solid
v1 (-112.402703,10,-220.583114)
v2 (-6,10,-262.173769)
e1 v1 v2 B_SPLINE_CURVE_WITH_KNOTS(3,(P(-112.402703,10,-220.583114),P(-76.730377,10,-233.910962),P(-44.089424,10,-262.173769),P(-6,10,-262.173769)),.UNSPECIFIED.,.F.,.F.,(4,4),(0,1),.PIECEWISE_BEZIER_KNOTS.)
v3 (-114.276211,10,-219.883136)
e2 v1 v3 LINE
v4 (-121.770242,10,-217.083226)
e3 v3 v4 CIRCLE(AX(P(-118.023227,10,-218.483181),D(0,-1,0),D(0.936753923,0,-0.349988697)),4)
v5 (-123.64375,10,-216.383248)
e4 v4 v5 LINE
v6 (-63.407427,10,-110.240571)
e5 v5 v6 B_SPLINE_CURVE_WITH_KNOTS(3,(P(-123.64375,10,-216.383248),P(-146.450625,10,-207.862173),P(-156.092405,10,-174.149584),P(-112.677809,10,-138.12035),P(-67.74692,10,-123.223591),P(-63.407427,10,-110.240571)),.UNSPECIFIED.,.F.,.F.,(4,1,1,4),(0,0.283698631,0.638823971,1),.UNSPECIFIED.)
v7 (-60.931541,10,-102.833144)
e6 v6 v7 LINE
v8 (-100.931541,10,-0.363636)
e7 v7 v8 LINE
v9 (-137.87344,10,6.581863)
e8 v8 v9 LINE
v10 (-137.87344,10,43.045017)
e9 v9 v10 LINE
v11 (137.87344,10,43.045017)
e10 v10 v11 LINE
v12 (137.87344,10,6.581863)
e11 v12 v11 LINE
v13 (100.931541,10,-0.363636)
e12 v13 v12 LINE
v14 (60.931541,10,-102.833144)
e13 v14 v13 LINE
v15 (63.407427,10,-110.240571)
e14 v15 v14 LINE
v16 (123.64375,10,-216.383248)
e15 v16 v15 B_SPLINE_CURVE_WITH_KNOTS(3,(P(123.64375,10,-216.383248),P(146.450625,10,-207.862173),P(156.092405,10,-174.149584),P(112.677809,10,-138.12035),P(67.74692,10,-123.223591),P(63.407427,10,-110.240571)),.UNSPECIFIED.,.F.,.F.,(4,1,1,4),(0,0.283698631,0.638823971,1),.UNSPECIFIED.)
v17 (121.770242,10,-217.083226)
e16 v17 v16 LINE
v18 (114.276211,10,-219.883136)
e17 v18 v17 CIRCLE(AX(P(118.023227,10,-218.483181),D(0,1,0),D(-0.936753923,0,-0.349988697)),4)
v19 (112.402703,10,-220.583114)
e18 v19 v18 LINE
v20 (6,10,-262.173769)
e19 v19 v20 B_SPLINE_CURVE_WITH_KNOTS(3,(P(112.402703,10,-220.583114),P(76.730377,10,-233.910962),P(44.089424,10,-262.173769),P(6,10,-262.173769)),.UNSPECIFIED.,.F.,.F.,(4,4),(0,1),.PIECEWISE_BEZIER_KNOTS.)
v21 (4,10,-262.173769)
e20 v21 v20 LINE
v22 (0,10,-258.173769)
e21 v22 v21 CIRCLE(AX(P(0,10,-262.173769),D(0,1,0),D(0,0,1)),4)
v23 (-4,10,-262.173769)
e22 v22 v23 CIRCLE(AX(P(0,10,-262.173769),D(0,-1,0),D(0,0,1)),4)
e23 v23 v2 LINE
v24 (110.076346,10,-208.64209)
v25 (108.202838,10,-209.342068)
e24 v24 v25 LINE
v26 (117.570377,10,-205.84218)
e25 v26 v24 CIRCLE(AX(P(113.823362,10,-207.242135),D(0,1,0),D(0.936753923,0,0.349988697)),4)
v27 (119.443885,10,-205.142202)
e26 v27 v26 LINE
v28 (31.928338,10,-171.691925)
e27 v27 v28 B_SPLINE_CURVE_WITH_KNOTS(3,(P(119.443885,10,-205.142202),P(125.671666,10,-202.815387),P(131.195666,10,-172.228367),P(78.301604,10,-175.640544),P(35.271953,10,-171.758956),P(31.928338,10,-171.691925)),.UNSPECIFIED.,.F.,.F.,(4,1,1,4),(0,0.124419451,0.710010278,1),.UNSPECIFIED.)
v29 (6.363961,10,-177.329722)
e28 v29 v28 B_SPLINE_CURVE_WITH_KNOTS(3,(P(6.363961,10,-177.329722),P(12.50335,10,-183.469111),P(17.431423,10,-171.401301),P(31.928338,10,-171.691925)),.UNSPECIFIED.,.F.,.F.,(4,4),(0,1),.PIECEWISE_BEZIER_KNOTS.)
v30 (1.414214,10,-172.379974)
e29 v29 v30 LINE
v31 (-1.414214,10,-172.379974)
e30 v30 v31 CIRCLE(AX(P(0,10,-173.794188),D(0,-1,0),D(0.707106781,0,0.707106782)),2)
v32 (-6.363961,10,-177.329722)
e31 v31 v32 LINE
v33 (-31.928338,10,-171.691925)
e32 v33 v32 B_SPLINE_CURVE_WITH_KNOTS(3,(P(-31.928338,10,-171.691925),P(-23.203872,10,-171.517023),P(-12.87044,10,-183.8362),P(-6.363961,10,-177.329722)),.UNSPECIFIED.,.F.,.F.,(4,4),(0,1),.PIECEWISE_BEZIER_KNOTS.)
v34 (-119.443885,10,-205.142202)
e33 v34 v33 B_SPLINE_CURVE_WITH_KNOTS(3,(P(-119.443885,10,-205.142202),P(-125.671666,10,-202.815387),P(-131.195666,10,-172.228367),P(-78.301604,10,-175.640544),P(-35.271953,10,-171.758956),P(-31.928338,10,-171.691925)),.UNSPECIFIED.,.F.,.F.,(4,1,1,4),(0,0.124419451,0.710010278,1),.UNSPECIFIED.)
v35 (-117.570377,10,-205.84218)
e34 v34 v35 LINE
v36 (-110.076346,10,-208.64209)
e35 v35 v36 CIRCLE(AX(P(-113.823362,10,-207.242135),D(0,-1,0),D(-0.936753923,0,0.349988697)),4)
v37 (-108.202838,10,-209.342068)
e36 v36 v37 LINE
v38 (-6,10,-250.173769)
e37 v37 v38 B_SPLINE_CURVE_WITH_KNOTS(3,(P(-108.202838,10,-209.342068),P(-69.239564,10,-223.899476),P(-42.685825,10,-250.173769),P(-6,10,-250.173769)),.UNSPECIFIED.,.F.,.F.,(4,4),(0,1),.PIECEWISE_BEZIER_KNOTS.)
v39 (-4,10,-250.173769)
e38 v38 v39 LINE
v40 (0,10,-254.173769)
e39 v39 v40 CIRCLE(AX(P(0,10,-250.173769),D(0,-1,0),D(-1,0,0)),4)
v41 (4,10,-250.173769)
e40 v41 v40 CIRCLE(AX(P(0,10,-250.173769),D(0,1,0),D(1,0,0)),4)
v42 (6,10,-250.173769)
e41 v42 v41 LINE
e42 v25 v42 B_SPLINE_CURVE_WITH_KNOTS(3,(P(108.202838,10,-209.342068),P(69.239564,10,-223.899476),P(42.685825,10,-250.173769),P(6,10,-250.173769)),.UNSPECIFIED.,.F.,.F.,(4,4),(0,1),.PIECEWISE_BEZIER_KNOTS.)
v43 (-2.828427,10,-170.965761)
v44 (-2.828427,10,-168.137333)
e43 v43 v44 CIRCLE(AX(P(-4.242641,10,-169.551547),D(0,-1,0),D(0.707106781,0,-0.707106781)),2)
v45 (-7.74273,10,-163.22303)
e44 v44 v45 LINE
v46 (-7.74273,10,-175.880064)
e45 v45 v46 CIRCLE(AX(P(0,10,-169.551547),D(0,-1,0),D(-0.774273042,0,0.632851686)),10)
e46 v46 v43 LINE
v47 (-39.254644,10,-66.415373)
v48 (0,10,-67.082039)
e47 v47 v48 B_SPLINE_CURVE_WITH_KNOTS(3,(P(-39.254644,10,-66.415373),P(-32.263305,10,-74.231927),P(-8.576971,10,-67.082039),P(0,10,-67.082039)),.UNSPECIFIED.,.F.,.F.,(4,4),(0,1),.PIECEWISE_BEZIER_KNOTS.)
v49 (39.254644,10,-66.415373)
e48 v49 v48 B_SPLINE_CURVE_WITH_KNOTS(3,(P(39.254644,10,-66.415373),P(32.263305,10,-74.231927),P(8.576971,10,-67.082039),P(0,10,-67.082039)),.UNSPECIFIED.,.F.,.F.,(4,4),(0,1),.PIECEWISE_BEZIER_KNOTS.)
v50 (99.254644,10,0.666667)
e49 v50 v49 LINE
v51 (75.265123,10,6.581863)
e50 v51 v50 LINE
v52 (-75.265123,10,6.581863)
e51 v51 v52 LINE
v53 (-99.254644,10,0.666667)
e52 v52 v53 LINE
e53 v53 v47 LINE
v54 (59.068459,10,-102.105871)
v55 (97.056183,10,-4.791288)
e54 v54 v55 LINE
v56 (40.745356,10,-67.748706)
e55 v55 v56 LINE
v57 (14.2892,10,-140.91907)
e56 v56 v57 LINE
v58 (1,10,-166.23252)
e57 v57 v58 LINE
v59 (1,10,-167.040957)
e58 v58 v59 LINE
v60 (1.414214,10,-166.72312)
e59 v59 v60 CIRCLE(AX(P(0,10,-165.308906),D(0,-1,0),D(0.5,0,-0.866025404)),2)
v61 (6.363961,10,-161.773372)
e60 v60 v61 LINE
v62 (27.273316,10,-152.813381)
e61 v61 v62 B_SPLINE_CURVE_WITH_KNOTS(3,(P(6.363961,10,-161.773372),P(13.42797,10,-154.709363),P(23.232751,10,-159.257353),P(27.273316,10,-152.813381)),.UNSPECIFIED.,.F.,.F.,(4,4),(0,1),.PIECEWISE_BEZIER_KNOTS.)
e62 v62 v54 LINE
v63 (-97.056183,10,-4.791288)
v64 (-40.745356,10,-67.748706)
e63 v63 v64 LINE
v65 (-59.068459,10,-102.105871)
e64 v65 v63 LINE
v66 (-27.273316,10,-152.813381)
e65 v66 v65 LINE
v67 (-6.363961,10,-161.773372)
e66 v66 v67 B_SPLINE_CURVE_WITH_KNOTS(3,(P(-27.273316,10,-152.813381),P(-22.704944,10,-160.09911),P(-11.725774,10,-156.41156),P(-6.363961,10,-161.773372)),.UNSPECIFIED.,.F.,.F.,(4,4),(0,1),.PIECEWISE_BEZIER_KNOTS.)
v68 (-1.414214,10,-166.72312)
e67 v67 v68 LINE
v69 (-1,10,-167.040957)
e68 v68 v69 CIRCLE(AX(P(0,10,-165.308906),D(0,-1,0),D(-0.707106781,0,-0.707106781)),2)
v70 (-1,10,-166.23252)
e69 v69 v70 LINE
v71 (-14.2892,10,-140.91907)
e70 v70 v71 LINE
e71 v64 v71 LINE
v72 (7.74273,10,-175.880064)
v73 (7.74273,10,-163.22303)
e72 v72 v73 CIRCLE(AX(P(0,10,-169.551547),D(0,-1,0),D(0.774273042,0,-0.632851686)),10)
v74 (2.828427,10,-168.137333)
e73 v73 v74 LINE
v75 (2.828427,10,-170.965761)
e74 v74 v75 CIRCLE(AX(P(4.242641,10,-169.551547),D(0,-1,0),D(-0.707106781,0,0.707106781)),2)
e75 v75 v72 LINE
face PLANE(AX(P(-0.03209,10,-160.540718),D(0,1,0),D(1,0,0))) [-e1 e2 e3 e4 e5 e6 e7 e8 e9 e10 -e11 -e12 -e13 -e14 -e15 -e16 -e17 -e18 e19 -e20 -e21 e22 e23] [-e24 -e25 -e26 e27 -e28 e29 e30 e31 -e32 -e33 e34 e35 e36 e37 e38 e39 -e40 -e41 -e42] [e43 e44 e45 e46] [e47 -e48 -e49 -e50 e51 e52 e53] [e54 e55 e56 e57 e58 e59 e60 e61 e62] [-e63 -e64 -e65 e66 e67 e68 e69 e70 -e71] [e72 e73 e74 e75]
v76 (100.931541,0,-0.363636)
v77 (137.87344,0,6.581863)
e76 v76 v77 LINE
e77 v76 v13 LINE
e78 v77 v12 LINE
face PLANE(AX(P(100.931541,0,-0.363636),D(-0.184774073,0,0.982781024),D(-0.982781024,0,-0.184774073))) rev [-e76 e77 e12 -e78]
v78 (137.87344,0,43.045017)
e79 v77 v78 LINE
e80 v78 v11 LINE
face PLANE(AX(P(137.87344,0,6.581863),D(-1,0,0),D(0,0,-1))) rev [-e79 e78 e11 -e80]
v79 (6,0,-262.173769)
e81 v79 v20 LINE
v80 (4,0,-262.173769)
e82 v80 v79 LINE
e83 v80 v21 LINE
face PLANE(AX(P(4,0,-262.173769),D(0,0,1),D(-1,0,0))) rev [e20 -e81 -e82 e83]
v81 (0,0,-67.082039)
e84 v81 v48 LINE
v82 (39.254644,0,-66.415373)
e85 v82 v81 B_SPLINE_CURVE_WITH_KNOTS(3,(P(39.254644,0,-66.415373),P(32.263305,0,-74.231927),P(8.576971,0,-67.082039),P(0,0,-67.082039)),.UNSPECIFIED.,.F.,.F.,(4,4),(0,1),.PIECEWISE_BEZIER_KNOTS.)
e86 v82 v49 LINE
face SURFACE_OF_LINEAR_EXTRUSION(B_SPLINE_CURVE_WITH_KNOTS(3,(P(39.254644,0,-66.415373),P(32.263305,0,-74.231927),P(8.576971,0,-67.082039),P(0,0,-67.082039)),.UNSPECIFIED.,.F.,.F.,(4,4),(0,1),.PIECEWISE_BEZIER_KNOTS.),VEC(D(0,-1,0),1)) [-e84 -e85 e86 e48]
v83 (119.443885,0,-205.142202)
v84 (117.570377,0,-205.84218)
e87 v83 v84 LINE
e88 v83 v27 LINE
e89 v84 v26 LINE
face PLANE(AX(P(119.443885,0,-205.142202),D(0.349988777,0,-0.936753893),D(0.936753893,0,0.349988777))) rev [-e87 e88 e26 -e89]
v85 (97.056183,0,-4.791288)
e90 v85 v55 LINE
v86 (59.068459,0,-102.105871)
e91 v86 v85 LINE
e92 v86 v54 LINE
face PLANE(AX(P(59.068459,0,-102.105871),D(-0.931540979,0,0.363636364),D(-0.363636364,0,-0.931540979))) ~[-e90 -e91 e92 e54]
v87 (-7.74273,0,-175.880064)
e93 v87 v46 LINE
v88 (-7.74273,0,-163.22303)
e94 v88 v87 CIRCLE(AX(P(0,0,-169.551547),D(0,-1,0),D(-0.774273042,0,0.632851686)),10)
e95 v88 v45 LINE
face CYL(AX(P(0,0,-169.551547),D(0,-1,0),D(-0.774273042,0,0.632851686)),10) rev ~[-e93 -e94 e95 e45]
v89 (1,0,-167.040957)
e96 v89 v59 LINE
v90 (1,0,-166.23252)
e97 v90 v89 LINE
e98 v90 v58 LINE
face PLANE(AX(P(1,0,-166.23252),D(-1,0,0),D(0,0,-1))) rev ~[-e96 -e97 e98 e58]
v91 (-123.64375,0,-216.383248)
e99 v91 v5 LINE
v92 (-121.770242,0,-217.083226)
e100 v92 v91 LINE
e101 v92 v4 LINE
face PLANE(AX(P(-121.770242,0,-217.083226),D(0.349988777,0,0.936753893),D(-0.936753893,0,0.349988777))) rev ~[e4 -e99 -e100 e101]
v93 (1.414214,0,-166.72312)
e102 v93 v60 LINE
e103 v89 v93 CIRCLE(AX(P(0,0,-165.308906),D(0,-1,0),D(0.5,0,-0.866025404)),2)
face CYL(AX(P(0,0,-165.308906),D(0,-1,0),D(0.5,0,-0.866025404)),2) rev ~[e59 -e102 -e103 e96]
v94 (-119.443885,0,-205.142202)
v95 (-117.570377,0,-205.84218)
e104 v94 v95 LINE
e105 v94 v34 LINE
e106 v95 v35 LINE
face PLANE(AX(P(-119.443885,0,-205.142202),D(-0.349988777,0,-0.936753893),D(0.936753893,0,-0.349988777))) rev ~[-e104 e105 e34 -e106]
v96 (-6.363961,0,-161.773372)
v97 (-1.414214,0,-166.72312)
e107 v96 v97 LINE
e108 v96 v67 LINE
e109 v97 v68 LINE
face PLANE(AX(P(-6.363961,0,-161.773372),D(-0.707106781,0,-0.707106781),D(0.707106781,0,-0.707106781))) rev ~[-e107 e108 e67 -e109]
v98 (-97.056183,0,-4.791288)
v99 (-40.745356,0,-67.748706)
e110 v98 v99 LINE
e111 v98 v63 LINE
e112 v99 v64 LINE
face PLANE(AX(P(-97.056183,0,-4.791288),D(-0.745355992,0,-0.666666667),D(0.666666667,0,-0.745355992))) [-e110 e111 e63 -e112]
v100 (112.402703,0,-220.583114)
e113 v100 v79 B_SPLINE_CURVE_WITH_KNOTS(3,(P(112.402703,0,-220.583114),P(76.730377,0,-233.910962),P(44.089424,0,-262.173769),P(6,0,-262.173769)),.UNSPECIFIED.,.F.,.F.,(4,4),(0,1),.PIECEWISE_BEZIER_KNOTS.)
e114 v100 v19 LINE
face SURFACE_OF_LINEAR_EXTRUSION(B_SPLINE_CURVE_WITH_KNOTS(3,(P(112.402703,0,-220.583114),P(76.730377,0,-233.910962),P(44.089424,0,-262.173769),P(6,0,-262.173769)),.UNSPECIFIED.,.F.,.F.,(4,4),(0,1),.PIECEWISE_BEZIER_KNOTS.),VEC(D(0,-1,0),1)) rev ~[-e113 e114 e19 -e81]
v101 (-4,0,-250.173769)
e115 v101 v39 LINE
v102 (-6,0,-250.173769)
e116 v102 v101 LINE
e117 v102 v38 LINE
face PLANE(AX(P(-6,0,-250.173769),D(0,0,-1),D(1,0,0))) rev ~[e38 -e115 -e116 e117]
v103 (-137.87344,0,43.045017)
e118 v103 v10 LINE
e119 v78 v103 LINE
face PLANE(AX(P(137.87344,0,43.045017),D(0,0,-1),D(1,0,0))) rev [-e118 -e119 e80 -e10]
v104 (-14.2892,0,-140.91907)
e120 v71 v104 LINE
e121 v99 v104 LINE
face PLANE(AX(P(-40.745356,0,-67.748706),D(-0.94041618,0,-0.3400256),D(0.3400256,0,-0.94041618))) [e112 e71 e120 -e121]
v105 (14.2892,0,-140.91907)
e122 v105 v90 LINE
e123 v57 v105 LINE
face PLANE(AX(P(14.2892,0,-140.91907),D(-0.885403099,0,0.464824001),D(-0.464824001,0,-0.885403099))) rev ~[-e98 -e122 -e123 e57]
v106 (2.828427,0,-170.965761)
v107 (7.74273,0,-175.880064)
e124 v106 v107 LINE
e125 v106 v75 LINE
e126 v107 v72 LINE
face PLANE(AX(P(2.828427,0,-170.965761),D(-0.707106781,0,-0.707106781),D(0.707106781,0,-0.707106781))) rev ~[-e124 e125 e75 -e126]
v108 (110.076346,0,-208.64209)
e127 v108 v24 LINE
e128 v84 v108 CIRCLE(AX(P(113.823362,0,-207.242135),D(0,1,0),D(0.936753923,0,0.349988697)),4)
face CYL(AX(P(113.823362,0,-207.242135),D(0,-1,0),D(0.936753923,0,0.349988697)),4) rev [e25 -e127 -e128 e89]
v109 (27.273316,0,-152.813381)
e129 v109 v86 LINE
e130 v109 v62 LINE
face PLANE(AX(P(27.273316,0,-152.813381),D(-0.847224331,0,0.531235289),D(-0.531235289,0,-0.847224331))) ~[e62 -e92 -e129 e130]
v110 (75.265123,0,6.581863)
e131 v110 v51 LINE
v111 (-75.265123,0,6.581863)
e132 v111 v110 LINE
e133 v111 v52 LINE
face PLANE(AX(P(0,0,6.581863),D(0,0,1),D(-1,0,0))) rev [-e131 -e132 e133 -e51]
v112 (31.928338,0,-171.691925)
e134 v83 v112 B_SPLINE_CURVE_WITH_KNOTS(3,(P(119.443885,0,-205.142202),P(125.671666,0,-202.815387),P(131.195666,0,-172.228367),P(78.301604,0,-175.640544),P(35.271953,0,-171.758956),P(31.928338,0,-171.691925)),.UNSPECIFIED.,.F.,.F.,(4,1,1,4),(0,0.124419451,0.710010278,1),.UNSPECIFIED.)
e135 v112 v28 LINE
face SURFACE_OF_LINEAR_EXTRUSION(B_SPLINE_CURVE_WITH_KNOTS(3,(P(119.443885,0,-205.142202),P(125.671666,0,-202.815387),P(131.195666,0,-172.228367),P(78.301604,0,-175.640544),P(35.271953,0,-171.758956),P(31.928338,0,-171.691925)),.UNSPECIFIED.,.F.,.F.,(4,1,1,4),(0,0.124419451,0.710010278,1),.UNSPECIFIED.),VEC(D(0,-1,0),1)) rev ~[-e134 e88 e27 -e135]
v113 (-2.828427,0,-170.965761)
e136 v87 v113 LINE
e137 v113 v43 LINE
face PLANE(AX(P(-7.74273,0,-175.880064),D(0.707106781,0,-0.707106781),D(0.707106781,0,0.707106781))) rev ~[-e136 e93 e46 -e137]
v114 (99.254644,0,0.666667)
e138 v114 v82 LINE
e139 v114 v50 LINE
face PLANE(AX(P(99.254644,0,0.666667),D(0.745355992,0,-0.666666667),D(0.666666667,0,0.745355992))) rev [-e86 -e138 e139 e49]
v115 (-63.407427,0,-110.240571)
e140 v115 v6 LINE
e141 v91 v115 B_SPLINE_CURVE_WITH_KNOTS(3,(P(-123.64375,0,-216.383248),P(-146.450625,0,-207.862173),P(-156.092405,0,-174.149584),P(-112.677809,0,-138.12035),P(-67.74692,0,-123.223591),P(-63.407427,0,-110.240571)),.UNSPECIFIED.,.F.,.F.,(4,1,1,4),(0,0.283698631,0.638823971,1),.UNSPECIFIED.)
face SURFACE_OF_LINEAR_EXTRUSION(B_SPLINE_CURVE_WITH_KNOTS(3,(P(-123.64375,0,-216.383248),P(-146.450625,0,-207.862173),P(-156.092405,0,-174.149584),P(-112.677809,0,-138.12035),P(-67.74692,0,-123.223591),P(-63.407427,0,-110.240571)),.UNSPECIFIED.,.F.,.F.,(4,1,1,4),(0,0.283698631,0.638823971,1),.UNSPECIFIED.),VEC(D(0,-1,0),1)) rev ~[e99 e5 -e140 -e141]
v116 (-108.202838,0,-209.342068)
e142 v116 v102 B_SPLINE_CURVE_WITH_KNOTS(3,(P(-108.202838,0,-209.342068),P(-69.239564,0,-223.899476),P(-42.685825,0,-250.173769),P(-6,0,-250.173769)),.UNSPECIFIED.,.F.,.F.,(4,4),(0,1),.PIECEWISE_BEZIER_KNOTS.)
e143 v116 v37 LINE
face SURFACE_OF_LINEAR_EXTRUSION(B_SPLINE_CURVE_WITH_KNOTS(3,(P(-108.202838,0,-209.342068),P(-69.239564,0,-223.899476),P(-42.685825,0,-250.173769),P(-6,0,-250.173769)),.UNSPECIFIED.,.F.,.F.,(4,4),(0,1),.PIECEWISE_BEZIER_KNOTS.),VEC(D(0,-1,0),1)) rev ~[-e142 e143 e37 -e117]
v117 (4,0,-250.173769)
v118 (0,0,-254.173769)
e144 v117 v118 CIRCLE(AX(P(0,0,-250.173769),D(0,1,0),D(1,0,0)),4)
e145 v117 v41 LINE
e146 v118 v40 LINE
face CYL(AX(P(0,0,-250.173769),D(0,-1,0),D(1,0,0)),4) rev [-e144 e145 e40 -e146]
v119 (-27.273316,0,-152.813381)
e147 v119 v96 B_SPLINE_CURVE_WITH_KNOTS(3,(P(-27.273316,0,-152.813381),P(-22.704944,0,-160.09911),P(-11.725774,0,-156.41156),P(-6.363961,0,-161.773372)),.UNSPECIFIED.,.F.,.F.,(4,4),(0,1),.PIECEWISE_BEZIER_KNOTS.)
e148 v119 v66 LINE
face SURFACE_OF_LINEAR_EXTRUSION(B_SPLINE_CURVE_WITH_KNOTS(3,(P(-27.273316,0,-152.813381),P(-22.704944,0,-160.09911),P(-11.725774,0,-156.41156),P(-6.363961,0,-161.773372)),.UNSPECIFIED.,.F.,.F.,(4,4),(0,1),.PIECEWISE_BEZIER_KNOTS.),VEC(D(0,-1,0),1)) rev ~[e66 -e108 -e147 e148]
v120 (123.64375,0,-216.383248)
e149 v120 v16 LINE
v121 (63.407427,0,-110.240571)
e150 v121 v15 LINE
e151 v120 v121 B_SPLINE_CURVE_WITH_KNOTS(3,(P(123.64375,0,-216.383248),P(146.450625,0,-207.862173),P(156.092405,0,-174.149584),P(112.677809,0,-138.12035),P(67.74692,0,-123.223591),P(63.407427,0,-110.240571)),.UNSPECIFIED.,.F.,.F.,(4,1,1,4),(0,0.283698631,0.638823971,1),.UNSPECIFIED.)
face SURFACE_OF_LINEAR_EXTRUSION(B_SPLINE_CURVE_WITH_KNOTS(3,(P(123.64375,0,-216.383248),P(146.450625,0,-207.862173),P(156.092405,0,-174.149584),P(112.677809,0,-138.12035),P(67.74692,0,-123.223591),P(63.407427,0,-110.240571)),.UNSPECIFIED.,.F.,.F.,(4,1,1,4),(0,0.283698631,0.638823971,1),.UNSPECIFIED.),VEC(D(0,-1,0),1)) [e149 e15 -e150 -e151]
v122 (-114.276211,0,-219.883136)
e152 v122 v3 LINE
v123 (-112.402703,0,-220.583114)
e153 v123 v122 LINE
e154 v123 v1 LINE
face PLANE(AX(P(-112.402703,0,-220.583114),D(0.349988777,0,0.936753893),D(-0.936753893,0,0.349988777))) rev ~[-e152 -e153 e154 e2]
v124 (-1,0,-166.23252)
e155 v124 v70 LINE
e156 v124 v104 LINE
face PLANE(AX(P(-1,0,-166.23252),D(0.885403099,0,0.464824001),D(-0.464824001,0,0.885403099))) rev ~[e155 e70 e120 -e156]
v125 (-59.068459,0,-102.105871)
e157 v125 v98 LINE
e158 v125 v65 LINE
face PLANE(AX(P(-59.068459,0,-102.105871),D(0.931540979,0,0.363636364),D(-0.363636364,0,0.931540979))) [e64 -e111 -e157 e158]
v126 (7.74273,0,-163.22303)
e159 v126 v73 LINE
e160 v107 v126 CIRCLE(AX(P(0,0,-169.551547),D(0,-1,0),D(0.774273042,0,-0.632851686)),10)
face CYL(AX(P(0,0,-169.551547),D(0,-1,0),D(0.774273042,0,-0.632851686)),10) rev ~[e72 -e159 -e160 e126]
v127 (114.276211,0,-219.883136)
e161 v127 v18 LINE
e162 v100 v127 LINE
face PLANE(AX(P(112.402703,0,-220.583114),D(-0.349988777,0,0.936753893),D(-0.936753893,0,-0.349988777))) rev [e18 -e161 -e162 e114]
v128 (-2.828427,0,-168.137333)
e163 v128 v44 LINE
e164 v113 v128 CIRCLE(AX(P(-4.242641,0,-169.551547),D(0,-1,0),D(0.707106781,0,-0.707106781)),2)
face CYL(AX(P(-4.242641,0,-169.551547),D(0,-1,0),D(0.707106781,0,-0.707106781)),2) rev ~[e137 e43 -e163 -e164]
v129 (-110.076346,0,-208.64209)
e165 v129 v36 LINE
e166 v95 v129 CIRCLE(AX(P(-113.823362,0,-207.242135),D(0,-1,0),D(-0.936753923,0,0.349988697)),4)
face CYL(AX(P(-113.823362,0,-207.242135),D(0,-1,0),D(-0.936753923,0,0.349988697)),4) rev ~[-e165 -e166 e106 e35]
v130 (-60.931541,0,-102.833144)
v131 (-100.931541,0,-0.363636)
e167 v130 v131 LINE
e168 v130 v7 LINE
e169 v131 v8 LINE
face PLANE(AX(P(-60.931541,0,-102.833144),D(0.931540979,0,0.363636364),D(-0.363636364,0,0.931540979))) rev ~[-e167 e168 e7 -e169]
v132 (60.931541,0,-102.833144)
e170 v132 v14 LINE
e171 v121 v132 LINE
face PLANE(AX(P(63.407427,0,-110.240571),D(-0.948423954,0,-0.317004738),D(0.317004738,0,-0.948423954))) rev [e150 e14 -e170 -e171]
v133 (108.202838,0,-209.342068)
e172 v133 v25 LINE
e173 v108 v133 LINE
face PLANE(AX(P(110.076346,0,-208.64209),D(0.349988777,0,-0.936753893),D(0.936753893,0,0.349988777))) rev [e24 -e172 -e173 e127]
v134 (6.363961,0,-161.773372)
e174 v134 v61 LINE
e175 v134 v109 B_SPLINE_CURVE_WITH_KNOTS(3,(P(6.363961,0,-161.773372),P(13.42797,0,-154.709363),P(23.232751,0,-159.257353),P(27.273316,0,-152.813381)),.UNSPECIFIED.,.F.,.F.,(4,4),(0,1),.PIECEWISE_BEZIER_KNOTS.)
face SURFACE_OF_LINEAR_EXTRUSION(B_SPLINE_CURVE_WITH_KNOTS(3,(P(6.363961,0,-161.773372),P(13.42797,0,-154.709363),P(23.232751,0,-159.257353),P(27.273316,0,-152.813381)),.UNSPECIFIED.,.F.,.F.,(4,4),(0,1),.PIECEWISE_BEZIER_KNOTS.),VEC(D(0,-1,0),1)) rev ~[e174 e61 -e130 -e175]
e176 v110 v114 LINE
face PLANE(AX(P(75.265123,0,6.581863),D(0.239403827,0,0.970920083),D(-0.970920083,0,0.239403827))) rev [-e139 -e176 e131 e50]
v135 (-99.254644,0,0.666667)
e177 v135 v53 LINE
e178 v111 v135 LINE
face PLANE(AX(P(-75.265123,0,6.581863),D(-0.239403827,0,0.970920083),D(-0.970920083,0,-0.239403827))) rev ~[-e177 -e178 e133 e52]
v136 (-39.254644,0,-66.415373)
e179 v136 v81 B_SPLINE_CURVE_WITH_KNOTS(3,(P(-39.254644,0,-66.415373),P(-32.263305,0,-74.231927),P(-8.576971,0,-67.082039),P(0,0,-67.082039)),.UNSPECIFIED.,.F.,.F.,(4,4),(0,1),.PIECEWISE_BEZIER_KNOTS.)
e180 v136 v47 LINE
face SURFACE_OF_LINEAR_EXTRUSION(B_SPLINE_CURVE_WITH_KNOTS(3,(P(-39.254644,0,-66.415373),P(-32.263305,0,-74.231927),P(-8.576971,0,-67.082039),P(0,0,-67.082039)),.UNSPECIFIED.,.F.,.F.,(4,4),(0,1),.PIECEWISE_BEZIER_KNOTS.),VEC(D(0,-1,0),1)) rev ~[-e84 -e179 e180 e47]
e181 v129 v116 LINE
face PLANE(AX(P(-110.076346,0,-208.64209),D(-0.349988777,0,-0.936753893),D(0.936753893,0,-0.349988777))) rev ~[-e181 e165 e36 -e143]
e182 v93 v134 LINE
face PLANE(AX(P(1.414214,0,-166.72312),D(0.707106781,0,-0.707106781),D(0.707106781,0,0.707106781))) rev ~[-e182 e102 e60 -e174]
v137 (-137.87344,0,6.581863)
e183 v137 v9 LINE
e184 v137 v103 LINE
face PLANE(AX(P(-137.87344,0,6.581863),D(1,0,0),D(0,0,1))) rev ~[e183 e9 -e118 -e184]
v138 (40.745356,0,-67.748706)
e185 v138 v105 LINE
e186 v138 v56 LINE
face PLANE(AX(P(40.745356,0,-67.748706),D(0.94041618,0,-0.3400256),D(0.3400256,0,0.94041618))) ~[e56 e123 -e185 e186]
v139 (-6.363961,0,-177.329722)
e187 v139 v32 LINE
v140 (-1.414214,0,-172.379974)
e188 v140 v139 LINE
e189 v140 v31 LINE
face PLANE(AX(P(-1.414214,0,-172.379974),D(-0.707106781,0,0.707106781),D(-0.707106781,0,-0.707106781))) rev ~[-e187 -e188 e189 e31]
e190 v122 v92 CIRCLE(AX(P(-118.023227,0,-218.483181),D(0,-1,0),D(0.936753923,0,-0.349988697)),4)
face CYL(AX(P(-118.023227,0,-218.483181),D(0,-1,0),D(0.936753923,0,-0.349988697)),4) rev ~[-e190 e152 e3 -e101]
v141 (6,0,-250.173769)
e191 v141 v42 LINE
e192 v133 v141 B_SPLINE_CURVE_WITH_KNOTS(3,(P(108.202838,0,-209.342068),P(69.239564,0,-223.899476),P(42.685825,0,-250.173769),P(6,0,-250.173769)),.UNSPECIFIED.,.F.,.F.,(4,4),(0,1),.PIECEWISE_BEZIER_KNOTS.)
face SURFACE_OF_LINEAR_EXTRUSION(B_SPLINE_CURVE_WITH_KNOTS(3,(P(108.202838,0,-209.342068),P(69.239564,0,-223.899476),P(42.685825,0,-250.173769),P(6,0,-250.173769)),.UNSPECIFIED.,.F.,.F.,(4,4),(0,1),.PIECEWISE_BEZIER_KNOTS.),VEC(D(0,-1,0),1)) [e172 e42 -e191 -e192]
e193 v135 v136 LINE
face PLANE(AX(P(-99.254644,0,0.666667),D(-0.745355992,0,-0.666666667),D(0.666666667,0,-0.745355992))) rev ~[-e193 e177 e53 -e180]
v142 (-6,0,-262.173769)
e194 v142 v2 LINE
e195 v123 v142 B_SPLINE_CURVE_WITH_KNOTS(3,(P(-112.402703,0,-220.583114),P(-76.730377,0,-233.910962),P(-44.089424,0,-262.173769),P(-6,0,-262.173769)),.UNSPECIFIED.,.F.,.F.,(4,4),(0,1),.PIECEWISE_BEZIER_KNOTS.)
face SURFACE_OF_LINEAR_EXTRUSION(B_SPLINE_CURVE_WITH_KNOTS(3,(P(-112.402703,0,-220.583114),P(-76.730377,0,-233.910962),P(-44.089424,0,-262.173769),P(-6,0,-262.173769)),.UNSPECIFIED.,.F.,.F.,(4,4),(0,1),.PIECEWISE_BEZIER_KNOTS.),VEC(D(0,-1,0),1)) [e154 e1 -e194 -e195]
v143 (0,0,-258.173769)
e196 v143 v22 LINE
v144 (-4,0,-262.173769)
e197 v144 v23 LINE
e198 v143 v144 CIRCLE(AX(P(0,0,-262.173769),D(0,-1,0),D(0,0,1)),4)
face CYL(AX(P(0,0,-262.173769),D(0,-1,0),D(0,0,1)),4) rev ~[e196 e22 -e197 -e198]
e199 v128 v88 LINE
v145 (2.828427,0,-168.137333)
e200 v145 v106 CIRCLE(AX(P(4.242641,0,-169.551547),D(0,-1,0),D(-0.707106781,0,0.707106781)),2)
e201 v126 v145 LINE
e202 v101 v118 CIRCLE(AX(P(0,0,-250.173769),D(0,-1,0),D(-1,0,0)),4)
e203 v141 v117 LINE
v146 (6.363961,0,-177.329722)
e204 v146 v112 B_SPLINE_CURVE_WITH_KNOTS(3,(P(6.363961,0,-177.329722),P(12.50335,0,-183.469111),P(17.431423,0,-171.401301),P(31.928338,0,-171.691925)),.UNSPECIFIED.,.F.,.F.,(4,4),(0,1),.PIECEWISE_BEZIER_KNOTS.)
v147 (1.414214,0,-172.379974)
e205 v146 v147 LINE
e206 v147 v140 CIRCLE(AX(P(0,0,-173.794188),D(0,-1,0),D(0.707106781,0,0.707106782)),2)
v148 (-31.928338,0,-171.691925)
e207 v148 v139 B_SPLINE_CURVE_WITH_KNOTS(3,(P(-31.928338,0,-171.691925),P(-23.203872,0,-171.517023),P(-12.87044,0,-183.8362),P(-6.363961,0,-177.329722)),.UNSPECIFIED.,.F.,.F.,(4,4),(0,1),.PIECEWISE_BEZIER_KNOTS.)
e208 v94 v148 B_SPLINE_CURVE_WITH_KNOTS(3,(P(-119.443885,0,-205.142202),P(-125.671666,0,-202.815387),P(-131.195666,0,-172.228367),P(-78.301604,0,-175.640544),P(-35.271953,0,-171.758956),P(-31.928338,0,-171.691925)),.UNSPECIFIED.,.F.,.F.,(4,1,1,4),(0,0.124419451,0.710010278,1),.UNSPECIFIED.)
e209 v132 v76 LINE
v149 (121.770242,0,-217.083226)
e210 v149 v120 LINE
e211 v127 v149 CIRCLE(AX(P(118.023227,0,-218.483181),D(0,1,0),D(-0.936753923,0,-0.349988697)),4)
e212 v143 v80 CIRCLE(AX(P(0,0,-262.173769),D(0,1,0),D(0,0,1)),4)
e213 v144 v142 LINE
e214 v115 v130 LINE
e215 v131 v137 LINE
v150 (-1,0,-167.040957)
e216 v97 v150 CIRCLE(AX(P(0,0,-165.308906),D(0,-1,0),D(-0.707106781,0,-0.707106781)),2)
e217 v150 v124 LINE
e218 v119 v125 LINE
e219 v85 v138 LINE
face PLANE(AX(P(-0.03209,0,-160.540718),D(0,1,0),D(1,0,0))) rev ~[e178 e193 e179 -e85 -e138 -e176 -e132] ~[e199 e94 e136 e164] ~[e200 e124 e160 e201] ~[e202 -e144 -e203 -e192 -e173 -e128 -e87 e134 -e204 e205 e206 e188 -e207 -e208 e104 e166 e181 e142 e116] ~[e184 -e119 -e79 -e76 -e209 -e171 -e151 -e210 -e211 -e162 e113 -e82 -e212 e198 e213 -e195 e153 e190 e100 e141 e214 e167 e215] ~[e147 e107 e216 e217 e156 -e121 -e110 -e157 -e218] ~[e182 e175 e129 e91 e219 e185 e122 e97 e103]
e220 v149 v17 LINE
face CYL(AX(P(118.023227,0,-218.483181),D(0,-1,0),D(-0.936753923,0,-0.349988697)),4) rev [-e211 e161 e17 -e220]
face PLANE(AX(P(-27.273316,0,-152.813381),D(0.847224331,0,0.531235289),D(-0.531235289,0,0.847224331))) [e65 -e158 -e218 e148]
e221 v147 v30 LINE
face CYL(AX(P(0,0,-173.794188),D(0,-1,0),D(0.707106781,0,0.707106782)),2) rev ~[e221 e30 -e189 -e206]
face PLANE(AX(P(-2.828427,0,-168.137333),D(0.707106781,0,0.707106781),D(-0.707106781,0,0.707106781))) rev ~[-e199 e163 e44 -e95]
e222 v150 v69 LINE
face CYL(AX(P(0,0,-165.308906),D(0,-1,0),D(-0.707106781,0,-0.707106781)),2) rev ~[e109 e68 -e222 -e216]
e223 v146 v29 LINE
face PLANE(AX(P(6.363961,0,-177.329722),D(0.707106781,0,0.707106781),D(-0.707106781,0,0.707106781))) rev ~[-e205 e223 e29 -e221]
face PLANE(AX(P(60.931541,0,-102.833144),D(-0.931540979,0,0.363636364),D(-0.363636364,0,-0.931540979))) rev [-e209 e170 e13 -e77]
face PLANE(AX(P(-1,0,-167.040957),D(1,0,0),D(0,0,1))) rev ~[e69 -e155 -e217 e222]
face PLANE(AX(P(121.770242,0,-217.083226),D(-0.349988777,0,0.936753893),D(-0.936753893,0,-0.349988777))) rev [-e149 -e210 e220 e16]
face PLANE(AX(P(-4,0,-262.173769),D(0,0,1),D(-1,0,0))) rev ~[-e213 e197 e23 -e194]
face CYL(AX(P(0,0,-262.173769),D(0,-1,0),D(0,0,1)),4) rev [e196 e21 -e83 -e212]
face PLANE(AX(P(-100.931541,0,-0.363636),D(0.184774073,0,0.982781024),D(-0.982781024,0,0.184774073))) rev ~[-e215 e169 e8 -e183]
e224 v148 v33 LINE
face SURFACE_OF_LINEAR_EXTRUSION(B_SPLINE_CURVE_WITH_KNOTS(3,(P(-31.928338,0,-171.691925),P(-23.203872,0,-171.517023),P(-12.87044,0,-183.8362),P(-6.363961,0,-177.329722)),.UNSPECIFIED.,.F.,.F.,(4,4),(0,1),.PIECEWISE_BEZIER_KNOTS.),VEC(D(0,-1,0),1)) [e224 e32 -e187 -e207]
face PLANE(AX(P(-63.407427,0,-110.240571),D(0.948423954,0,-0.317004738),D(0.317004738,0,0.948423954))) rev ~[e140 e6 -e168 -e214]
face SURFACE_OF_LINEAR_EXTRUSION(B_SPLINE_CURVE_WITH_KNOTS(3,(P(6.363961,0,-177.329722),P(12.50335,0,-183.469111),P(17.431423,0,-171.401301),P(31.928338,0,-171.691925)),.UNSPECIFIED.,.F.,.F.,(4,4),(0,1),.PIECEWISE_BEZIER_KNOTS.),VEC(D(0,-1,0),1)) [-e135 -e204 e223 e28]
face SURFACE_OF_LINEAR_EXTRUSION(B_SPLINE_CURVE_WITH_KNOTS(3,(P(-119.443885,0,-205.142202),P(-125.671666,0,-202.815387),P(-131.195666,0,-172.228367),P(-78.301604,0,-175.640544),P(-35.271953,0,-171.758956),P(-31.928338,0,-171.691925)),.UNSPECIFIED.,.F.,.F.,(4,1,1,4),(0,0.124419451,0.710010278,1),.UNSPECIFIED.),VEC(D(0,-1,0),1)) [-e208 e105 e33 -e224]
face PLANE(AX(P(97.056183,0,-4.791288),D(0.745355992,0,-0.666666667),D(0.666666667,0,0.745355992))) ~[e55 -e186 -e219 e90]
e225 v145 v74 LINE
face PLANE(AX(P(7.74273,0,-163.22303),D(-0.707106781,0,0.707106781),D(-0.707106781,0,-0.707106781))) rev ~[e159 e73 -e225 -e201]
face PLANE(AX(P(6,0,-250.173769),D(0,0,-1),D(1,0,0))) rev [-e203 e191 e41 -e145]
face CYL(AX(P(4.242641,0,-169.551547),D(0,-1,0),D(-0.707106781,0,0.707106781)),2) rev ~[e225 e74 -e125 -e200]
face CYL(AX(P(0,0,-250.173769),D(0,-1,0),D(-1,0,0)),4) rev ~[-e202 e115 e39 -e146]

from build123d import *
from build123d.topology import SkipClean

# Parameters (mm, degrees)
BOSS_EXTRUDE1_DEPTH = 10
CUT_EXTRUDE1_START  = -10
SKETCH6_R           = 32
CUT_EXTRUDE1_DEPTH  = 10
BOSS_EXTRUDE3_START = -10
BOSS_EXTRUDE3_DEPTH = 10


with BuildPart() as part:
    # Sketch4 → Boss-Extrude1 (new body)
    with BuildSketch(Plane(origin=(0, 0, 0), x_dir=(1, 0, 0), z_dir=(0, 1, 0))):
        with BuildLine():
            Line((-60.931540979, 102.833144023), (-100.931540979, 0.363636364))
            Line((-100.931540979, 0.363636364), (-137.873440008, -6.581863165))
            Line((-137.873440008, -6.581863165), (-137.873440008, -43.045016767))
            Line((-137.873440008, -43.045016767), (0, -43.045016767))
            Line((0, -43.045016767), (0, -6.581863165))
            Line((0, -6.581863165), (-75.265123248, -6.581863165))
            Line((-75.265123248, -6.581863165), (-99.254644008, -0.666666667))
            Line((-99.254644008, -0.666666667), (-39.254644008, 66.415372658))
            add(Edge.make_bspline(
                [(-39.254644008, 66.415372658), (-32.263304985, 74.231927312), (-8.576970769, 67.082039325), (0, 67.082039325)],
                knots=[0, 0, 0, 0, 1, 1, 1, 1], degree=3))
            Line((0, 67.082039325), (0, 185.898359068))
            add(Edge.make_bspline(
                [(-8.949396824, 172.714099063), (-10.970561894, 176.563352288), (-7.616484748, 181.238960263), (-4.813614966, 185.898359068), (0, 185.898359068)],
                knots=[0, 0, 0, 0, 0.470592774, 1, 1, 1, 1], degree=3))
            ThreePointArc((-8.949396824, 172.714099063), (-8.984162865, 171.72340098), (-9.854808922, 171.249410672))
            Line((-9.854808922, 171.249410672), (-31.928338207, 171.691925306))
            add(Edge.make_bspline(
                [(-119.4438851, 205.142202368), (-125.671665833, 202.815386996), (-131.195665925, 172.228367493), (-78.301604385, 175.640544072), (-35.271953311, 171.758955756), (-31.928338207, 171.691925306)],
                knots=[0, 0, 0, 0, 0.124419451, 0.710010278, 1, 1, 1, 1], degree=3))
            Line((-119.4438851, 205.142202368), (-117.570377314, 205.842179921))
            ThreePointArc((-117.570377314, 205.842179921), (-115.223316728, 210.98915028), (-110.076346168, 208.642090132))
            Line((-110.076346168, 208.642090132), (-108.202838382, 209.342067685))
            add(Edge.make_bspline(
                [(-108.202838382, 209.342067685), (-69.239563588, 223.899475954), (-42.68582532, 250.173769149), (-6, 250.173769149)],
                knots=[0, 0, 0, 0, 1, 1, 1, 1], degree=3))
            Line((-6, 250.173769149), (-4, 250.173769149))
            ThreePointArc((-4, 250.173769149), (-2.828427125, 253.002196274), (0, 254.173769149))
            Line((0, 254.173769149), (0, 258.173769149))
            ThreePointArc((0, 258.173769149), (-2.828427125, 259.345342024), (-4, 262.173769149))
            Line((-4, 262.173769149), (-6, 262.173769149))
            add(Edge.make_bspline(
                [(-112.402703461, 220.583113766), (-76.730376789, 233.910962259), (-44.089424314, 262.173769149), (-6, 262.173769149)],
                knots=[0, 0, 0, 0, 1, 1, 1, 1], degree=3))
            Line((-112.402703461, 220.583113766), (-114.276211247, 219.883136213))
            ThreePointArc((-114.276211247, 219.883136213), (-116.623271833, 214.736165853), (-121.770242393, 217.083226002))
            Line((-121.770242393, 217.083226002), (-123.643750179, 216.383248449))
            add(Edge.make_bspline(
                [(-123.643750179, 216.383248449), (-146.450625439, 207.86217325), (-156.092404914, 174.1495844), (-112.677809008, 138.120350468), (-67.746919643, 123.223591214), (-63.407426979, 110.240571436)],
                knots=[0, 0, 0, 0, 0.283698631, 0.638823971, 1, 1, 1, 1], degree=3))
            Line((-63.407426979, 110.240571436), (-60.931540979, 102.833144023))
        make_face()
        with BuildLine():
            Line((-59.068459021, 102.105871296), (-97.056182656, 4.791287847))
            Line((-97.056182656, 4.791287847), (-40.745355992, 67.748705992))
            Line((-40.745355992, 67.748705992), (-6.453280422, 162.591043343))
            ThreePointArc((-6.453280422, 162.591043343), (-6.944626107, 163.452014183), (-7.935821997, 163.466916409))
            Line((-7.935821997, 163.466916409), (-27.273316425, 152.813380681))
            Line((-27.273316425, 152.813380681), (-59.068459021, 102.105871296))
        make_face(mode=Mode.SUBTRACT)
        with BuildLine():
            Line((-8.989046189, 165.170103317), (-28.265787332, 154.550038176))
            ThreePointArc((-28.265787332, 154.550038176), (-31.069419685, 161.890531357), (-31.999687563, 169.692953814))
            Line((-31.999687563, 169.692953814), (-9.995507461, 169.251829444))
            ThreePointArc((-9.995507461, 169.251829444), (-9.709193652, 167.157479601), (-8.989046189, 165.170103317))
        make_face(mode=Mode.SUBTRACT)
    extrude(amount=BOSS_EXTRUDE1_DEPTH)

    # Mirror1: part across plane


with BuildPart() as part_1:
    add(part.part)
    add(part.part.mirror(Plane(origin=(0, 10, 0), x_dir=(0, 0, 1), z_dir=(1, 0, 0))))

    # Sketch6 → Cut-Extrude1 (cut)
    with SkipClean():  # the faces are left unmerged after this step: merging them gives an invalid solid
        with BuildSketch(Plane(origin=(0, 10, 0), x_dir=(1, 0, 0), z_dir=(0, 1, 0)).offset(CUT_EXTRUDE1_START)):
            with Locations((0, 169.551546985)):
                Circle(SKETCH6_R)
        extrude(amount=CUT_EXTRUDE1_DEPTH, mode=Mode.SUBTRACT)

    # Sketch7 → Boss-Extrude3 (add)
    with BuildSketch(Plane(origin=(0, 10, 0), x_dir=(1, 0, 0), z_dir=(0, 1, 0)).offset(BOSS_EXTRUDE3_START)):
        with BuildLine():
            Line((14.289200309, 140.919069716), (1, 166.232519779))
            Line((1, 166.232519779), (1, 167.040957105))
            ThreePointArc((1, 167.040957105), (1.217522858, 166.895612978), (1.414213562, 166.72311986))
            Line((1.414213562, 166.72311986), (6.363961031, 161.773372392))
            add(Edge.make_bspline(
                [(6.363961031, 161.773372392), (13.42797039, 154.709363033), (23.232750867, 159.257352912), (27.273316425, 152.813380681)],
                knots=[0, 0, 0, 0, 1, 1, 1, 1], degree=3))
            ThreePointArc((27.273316425, 152.813380681), (31.069419685, 161.890531357), (31.928338207, 171.691925306))
            add(Edge.make_bspline(
                [(6.363961031, 177.329721578), (12.503350482, 183.469111029), (17.431423379, 171.401301325), (31.928338207, 171.691925306)],
                knots=[0, 0, 0, 0, 1, 1, 1, 1], degree=3))
            Line((6.363961031, 177.329721578), (1.414213562, 172.379974109))
            ThreePointArc((1.414213562, 172.379974109), (0, 171.794187672), (-1.414213562, 172.379974109))
            Line((-1.414213562, 172.379974109), (-6.363961031, 177.329721578))
            add(Edge.make_bspline(
                [(-31.928338207, 171.691925306), (-23.203871901, 171.517023324), (-12.870439893, 183.83620044), (-6.363961031, 177.329721578)],
                knots=[0, 0, 0, 0, 1, 1, 1, 1], degree=3))
            ThreePointArc((-31.928338207, 171.691925306), (-31.069419685, 161.890531357), (-27.273316425, 152.813380681))
            add(Edge.make_bspline(
                [(-27.273316425, 152.813380681), (-22.704943746, 160.099109933), (-11.725773506, 156.411559916), (-6.363961031, 161.773372392)],
                knots=[0, 0, 0, 0, 1, 1, 1, 1], degree=3))
            Line((-6.363961031, 161.773372392), (-1.414213562, 166.72311986))
            ThreePointArc((-1.414213562, 166.72311986), (-1.217522858, 166.895612978), (-1, 167.040957105))
            Line((-1, 167.040957105), (-1, 166.232519779))
            Line((-1, 166.232519779), (-14.289200309, 140.919069716))
            ThreePointArc((-14.289200309, 140.919069716), (0, 137.551546985), (14.289200309, 140.919069716))
        make_face()
        with BuildLine():
            ThreePointArc((-7.742730421, 163.223030126), (-10, 169.551546985), (-7.742730421, 175.880063843))
            Line((-7.742730421, 175.880063843), (-2.828427125, 170.965760547))
            ThreePointArc((-2.828427125, 170.965760547), (-2.242640687, 169.551546985), (-2.828427125, 168.137333422))
            Line((-2.828427125, 168.137333422), (-7.742730421, 163.223030126))
        make_face(mode=Mode.SUBTRACT)
        with BuildLine():
            Line((2.828427125, 170.965760547), (7.742730421, 175.880063843))
            ThreePointArc((7.742730421, 175.880063843), (10, 169.551546985), (7.742730421, 163.223030126))
            Line((7.742730421, 163.223030126), (2.828427125, 168.137333422))
            ThreePointArc((2.828427125, 168.137333422), (2.242640687, 169.551546985), (2.828427125, 170.965760547))
        make_face(mode=Mode.SUBTRACT)
    extrude(amount=BOSS_EXTRUDE3_DEPTH)


solid = part_1.part
